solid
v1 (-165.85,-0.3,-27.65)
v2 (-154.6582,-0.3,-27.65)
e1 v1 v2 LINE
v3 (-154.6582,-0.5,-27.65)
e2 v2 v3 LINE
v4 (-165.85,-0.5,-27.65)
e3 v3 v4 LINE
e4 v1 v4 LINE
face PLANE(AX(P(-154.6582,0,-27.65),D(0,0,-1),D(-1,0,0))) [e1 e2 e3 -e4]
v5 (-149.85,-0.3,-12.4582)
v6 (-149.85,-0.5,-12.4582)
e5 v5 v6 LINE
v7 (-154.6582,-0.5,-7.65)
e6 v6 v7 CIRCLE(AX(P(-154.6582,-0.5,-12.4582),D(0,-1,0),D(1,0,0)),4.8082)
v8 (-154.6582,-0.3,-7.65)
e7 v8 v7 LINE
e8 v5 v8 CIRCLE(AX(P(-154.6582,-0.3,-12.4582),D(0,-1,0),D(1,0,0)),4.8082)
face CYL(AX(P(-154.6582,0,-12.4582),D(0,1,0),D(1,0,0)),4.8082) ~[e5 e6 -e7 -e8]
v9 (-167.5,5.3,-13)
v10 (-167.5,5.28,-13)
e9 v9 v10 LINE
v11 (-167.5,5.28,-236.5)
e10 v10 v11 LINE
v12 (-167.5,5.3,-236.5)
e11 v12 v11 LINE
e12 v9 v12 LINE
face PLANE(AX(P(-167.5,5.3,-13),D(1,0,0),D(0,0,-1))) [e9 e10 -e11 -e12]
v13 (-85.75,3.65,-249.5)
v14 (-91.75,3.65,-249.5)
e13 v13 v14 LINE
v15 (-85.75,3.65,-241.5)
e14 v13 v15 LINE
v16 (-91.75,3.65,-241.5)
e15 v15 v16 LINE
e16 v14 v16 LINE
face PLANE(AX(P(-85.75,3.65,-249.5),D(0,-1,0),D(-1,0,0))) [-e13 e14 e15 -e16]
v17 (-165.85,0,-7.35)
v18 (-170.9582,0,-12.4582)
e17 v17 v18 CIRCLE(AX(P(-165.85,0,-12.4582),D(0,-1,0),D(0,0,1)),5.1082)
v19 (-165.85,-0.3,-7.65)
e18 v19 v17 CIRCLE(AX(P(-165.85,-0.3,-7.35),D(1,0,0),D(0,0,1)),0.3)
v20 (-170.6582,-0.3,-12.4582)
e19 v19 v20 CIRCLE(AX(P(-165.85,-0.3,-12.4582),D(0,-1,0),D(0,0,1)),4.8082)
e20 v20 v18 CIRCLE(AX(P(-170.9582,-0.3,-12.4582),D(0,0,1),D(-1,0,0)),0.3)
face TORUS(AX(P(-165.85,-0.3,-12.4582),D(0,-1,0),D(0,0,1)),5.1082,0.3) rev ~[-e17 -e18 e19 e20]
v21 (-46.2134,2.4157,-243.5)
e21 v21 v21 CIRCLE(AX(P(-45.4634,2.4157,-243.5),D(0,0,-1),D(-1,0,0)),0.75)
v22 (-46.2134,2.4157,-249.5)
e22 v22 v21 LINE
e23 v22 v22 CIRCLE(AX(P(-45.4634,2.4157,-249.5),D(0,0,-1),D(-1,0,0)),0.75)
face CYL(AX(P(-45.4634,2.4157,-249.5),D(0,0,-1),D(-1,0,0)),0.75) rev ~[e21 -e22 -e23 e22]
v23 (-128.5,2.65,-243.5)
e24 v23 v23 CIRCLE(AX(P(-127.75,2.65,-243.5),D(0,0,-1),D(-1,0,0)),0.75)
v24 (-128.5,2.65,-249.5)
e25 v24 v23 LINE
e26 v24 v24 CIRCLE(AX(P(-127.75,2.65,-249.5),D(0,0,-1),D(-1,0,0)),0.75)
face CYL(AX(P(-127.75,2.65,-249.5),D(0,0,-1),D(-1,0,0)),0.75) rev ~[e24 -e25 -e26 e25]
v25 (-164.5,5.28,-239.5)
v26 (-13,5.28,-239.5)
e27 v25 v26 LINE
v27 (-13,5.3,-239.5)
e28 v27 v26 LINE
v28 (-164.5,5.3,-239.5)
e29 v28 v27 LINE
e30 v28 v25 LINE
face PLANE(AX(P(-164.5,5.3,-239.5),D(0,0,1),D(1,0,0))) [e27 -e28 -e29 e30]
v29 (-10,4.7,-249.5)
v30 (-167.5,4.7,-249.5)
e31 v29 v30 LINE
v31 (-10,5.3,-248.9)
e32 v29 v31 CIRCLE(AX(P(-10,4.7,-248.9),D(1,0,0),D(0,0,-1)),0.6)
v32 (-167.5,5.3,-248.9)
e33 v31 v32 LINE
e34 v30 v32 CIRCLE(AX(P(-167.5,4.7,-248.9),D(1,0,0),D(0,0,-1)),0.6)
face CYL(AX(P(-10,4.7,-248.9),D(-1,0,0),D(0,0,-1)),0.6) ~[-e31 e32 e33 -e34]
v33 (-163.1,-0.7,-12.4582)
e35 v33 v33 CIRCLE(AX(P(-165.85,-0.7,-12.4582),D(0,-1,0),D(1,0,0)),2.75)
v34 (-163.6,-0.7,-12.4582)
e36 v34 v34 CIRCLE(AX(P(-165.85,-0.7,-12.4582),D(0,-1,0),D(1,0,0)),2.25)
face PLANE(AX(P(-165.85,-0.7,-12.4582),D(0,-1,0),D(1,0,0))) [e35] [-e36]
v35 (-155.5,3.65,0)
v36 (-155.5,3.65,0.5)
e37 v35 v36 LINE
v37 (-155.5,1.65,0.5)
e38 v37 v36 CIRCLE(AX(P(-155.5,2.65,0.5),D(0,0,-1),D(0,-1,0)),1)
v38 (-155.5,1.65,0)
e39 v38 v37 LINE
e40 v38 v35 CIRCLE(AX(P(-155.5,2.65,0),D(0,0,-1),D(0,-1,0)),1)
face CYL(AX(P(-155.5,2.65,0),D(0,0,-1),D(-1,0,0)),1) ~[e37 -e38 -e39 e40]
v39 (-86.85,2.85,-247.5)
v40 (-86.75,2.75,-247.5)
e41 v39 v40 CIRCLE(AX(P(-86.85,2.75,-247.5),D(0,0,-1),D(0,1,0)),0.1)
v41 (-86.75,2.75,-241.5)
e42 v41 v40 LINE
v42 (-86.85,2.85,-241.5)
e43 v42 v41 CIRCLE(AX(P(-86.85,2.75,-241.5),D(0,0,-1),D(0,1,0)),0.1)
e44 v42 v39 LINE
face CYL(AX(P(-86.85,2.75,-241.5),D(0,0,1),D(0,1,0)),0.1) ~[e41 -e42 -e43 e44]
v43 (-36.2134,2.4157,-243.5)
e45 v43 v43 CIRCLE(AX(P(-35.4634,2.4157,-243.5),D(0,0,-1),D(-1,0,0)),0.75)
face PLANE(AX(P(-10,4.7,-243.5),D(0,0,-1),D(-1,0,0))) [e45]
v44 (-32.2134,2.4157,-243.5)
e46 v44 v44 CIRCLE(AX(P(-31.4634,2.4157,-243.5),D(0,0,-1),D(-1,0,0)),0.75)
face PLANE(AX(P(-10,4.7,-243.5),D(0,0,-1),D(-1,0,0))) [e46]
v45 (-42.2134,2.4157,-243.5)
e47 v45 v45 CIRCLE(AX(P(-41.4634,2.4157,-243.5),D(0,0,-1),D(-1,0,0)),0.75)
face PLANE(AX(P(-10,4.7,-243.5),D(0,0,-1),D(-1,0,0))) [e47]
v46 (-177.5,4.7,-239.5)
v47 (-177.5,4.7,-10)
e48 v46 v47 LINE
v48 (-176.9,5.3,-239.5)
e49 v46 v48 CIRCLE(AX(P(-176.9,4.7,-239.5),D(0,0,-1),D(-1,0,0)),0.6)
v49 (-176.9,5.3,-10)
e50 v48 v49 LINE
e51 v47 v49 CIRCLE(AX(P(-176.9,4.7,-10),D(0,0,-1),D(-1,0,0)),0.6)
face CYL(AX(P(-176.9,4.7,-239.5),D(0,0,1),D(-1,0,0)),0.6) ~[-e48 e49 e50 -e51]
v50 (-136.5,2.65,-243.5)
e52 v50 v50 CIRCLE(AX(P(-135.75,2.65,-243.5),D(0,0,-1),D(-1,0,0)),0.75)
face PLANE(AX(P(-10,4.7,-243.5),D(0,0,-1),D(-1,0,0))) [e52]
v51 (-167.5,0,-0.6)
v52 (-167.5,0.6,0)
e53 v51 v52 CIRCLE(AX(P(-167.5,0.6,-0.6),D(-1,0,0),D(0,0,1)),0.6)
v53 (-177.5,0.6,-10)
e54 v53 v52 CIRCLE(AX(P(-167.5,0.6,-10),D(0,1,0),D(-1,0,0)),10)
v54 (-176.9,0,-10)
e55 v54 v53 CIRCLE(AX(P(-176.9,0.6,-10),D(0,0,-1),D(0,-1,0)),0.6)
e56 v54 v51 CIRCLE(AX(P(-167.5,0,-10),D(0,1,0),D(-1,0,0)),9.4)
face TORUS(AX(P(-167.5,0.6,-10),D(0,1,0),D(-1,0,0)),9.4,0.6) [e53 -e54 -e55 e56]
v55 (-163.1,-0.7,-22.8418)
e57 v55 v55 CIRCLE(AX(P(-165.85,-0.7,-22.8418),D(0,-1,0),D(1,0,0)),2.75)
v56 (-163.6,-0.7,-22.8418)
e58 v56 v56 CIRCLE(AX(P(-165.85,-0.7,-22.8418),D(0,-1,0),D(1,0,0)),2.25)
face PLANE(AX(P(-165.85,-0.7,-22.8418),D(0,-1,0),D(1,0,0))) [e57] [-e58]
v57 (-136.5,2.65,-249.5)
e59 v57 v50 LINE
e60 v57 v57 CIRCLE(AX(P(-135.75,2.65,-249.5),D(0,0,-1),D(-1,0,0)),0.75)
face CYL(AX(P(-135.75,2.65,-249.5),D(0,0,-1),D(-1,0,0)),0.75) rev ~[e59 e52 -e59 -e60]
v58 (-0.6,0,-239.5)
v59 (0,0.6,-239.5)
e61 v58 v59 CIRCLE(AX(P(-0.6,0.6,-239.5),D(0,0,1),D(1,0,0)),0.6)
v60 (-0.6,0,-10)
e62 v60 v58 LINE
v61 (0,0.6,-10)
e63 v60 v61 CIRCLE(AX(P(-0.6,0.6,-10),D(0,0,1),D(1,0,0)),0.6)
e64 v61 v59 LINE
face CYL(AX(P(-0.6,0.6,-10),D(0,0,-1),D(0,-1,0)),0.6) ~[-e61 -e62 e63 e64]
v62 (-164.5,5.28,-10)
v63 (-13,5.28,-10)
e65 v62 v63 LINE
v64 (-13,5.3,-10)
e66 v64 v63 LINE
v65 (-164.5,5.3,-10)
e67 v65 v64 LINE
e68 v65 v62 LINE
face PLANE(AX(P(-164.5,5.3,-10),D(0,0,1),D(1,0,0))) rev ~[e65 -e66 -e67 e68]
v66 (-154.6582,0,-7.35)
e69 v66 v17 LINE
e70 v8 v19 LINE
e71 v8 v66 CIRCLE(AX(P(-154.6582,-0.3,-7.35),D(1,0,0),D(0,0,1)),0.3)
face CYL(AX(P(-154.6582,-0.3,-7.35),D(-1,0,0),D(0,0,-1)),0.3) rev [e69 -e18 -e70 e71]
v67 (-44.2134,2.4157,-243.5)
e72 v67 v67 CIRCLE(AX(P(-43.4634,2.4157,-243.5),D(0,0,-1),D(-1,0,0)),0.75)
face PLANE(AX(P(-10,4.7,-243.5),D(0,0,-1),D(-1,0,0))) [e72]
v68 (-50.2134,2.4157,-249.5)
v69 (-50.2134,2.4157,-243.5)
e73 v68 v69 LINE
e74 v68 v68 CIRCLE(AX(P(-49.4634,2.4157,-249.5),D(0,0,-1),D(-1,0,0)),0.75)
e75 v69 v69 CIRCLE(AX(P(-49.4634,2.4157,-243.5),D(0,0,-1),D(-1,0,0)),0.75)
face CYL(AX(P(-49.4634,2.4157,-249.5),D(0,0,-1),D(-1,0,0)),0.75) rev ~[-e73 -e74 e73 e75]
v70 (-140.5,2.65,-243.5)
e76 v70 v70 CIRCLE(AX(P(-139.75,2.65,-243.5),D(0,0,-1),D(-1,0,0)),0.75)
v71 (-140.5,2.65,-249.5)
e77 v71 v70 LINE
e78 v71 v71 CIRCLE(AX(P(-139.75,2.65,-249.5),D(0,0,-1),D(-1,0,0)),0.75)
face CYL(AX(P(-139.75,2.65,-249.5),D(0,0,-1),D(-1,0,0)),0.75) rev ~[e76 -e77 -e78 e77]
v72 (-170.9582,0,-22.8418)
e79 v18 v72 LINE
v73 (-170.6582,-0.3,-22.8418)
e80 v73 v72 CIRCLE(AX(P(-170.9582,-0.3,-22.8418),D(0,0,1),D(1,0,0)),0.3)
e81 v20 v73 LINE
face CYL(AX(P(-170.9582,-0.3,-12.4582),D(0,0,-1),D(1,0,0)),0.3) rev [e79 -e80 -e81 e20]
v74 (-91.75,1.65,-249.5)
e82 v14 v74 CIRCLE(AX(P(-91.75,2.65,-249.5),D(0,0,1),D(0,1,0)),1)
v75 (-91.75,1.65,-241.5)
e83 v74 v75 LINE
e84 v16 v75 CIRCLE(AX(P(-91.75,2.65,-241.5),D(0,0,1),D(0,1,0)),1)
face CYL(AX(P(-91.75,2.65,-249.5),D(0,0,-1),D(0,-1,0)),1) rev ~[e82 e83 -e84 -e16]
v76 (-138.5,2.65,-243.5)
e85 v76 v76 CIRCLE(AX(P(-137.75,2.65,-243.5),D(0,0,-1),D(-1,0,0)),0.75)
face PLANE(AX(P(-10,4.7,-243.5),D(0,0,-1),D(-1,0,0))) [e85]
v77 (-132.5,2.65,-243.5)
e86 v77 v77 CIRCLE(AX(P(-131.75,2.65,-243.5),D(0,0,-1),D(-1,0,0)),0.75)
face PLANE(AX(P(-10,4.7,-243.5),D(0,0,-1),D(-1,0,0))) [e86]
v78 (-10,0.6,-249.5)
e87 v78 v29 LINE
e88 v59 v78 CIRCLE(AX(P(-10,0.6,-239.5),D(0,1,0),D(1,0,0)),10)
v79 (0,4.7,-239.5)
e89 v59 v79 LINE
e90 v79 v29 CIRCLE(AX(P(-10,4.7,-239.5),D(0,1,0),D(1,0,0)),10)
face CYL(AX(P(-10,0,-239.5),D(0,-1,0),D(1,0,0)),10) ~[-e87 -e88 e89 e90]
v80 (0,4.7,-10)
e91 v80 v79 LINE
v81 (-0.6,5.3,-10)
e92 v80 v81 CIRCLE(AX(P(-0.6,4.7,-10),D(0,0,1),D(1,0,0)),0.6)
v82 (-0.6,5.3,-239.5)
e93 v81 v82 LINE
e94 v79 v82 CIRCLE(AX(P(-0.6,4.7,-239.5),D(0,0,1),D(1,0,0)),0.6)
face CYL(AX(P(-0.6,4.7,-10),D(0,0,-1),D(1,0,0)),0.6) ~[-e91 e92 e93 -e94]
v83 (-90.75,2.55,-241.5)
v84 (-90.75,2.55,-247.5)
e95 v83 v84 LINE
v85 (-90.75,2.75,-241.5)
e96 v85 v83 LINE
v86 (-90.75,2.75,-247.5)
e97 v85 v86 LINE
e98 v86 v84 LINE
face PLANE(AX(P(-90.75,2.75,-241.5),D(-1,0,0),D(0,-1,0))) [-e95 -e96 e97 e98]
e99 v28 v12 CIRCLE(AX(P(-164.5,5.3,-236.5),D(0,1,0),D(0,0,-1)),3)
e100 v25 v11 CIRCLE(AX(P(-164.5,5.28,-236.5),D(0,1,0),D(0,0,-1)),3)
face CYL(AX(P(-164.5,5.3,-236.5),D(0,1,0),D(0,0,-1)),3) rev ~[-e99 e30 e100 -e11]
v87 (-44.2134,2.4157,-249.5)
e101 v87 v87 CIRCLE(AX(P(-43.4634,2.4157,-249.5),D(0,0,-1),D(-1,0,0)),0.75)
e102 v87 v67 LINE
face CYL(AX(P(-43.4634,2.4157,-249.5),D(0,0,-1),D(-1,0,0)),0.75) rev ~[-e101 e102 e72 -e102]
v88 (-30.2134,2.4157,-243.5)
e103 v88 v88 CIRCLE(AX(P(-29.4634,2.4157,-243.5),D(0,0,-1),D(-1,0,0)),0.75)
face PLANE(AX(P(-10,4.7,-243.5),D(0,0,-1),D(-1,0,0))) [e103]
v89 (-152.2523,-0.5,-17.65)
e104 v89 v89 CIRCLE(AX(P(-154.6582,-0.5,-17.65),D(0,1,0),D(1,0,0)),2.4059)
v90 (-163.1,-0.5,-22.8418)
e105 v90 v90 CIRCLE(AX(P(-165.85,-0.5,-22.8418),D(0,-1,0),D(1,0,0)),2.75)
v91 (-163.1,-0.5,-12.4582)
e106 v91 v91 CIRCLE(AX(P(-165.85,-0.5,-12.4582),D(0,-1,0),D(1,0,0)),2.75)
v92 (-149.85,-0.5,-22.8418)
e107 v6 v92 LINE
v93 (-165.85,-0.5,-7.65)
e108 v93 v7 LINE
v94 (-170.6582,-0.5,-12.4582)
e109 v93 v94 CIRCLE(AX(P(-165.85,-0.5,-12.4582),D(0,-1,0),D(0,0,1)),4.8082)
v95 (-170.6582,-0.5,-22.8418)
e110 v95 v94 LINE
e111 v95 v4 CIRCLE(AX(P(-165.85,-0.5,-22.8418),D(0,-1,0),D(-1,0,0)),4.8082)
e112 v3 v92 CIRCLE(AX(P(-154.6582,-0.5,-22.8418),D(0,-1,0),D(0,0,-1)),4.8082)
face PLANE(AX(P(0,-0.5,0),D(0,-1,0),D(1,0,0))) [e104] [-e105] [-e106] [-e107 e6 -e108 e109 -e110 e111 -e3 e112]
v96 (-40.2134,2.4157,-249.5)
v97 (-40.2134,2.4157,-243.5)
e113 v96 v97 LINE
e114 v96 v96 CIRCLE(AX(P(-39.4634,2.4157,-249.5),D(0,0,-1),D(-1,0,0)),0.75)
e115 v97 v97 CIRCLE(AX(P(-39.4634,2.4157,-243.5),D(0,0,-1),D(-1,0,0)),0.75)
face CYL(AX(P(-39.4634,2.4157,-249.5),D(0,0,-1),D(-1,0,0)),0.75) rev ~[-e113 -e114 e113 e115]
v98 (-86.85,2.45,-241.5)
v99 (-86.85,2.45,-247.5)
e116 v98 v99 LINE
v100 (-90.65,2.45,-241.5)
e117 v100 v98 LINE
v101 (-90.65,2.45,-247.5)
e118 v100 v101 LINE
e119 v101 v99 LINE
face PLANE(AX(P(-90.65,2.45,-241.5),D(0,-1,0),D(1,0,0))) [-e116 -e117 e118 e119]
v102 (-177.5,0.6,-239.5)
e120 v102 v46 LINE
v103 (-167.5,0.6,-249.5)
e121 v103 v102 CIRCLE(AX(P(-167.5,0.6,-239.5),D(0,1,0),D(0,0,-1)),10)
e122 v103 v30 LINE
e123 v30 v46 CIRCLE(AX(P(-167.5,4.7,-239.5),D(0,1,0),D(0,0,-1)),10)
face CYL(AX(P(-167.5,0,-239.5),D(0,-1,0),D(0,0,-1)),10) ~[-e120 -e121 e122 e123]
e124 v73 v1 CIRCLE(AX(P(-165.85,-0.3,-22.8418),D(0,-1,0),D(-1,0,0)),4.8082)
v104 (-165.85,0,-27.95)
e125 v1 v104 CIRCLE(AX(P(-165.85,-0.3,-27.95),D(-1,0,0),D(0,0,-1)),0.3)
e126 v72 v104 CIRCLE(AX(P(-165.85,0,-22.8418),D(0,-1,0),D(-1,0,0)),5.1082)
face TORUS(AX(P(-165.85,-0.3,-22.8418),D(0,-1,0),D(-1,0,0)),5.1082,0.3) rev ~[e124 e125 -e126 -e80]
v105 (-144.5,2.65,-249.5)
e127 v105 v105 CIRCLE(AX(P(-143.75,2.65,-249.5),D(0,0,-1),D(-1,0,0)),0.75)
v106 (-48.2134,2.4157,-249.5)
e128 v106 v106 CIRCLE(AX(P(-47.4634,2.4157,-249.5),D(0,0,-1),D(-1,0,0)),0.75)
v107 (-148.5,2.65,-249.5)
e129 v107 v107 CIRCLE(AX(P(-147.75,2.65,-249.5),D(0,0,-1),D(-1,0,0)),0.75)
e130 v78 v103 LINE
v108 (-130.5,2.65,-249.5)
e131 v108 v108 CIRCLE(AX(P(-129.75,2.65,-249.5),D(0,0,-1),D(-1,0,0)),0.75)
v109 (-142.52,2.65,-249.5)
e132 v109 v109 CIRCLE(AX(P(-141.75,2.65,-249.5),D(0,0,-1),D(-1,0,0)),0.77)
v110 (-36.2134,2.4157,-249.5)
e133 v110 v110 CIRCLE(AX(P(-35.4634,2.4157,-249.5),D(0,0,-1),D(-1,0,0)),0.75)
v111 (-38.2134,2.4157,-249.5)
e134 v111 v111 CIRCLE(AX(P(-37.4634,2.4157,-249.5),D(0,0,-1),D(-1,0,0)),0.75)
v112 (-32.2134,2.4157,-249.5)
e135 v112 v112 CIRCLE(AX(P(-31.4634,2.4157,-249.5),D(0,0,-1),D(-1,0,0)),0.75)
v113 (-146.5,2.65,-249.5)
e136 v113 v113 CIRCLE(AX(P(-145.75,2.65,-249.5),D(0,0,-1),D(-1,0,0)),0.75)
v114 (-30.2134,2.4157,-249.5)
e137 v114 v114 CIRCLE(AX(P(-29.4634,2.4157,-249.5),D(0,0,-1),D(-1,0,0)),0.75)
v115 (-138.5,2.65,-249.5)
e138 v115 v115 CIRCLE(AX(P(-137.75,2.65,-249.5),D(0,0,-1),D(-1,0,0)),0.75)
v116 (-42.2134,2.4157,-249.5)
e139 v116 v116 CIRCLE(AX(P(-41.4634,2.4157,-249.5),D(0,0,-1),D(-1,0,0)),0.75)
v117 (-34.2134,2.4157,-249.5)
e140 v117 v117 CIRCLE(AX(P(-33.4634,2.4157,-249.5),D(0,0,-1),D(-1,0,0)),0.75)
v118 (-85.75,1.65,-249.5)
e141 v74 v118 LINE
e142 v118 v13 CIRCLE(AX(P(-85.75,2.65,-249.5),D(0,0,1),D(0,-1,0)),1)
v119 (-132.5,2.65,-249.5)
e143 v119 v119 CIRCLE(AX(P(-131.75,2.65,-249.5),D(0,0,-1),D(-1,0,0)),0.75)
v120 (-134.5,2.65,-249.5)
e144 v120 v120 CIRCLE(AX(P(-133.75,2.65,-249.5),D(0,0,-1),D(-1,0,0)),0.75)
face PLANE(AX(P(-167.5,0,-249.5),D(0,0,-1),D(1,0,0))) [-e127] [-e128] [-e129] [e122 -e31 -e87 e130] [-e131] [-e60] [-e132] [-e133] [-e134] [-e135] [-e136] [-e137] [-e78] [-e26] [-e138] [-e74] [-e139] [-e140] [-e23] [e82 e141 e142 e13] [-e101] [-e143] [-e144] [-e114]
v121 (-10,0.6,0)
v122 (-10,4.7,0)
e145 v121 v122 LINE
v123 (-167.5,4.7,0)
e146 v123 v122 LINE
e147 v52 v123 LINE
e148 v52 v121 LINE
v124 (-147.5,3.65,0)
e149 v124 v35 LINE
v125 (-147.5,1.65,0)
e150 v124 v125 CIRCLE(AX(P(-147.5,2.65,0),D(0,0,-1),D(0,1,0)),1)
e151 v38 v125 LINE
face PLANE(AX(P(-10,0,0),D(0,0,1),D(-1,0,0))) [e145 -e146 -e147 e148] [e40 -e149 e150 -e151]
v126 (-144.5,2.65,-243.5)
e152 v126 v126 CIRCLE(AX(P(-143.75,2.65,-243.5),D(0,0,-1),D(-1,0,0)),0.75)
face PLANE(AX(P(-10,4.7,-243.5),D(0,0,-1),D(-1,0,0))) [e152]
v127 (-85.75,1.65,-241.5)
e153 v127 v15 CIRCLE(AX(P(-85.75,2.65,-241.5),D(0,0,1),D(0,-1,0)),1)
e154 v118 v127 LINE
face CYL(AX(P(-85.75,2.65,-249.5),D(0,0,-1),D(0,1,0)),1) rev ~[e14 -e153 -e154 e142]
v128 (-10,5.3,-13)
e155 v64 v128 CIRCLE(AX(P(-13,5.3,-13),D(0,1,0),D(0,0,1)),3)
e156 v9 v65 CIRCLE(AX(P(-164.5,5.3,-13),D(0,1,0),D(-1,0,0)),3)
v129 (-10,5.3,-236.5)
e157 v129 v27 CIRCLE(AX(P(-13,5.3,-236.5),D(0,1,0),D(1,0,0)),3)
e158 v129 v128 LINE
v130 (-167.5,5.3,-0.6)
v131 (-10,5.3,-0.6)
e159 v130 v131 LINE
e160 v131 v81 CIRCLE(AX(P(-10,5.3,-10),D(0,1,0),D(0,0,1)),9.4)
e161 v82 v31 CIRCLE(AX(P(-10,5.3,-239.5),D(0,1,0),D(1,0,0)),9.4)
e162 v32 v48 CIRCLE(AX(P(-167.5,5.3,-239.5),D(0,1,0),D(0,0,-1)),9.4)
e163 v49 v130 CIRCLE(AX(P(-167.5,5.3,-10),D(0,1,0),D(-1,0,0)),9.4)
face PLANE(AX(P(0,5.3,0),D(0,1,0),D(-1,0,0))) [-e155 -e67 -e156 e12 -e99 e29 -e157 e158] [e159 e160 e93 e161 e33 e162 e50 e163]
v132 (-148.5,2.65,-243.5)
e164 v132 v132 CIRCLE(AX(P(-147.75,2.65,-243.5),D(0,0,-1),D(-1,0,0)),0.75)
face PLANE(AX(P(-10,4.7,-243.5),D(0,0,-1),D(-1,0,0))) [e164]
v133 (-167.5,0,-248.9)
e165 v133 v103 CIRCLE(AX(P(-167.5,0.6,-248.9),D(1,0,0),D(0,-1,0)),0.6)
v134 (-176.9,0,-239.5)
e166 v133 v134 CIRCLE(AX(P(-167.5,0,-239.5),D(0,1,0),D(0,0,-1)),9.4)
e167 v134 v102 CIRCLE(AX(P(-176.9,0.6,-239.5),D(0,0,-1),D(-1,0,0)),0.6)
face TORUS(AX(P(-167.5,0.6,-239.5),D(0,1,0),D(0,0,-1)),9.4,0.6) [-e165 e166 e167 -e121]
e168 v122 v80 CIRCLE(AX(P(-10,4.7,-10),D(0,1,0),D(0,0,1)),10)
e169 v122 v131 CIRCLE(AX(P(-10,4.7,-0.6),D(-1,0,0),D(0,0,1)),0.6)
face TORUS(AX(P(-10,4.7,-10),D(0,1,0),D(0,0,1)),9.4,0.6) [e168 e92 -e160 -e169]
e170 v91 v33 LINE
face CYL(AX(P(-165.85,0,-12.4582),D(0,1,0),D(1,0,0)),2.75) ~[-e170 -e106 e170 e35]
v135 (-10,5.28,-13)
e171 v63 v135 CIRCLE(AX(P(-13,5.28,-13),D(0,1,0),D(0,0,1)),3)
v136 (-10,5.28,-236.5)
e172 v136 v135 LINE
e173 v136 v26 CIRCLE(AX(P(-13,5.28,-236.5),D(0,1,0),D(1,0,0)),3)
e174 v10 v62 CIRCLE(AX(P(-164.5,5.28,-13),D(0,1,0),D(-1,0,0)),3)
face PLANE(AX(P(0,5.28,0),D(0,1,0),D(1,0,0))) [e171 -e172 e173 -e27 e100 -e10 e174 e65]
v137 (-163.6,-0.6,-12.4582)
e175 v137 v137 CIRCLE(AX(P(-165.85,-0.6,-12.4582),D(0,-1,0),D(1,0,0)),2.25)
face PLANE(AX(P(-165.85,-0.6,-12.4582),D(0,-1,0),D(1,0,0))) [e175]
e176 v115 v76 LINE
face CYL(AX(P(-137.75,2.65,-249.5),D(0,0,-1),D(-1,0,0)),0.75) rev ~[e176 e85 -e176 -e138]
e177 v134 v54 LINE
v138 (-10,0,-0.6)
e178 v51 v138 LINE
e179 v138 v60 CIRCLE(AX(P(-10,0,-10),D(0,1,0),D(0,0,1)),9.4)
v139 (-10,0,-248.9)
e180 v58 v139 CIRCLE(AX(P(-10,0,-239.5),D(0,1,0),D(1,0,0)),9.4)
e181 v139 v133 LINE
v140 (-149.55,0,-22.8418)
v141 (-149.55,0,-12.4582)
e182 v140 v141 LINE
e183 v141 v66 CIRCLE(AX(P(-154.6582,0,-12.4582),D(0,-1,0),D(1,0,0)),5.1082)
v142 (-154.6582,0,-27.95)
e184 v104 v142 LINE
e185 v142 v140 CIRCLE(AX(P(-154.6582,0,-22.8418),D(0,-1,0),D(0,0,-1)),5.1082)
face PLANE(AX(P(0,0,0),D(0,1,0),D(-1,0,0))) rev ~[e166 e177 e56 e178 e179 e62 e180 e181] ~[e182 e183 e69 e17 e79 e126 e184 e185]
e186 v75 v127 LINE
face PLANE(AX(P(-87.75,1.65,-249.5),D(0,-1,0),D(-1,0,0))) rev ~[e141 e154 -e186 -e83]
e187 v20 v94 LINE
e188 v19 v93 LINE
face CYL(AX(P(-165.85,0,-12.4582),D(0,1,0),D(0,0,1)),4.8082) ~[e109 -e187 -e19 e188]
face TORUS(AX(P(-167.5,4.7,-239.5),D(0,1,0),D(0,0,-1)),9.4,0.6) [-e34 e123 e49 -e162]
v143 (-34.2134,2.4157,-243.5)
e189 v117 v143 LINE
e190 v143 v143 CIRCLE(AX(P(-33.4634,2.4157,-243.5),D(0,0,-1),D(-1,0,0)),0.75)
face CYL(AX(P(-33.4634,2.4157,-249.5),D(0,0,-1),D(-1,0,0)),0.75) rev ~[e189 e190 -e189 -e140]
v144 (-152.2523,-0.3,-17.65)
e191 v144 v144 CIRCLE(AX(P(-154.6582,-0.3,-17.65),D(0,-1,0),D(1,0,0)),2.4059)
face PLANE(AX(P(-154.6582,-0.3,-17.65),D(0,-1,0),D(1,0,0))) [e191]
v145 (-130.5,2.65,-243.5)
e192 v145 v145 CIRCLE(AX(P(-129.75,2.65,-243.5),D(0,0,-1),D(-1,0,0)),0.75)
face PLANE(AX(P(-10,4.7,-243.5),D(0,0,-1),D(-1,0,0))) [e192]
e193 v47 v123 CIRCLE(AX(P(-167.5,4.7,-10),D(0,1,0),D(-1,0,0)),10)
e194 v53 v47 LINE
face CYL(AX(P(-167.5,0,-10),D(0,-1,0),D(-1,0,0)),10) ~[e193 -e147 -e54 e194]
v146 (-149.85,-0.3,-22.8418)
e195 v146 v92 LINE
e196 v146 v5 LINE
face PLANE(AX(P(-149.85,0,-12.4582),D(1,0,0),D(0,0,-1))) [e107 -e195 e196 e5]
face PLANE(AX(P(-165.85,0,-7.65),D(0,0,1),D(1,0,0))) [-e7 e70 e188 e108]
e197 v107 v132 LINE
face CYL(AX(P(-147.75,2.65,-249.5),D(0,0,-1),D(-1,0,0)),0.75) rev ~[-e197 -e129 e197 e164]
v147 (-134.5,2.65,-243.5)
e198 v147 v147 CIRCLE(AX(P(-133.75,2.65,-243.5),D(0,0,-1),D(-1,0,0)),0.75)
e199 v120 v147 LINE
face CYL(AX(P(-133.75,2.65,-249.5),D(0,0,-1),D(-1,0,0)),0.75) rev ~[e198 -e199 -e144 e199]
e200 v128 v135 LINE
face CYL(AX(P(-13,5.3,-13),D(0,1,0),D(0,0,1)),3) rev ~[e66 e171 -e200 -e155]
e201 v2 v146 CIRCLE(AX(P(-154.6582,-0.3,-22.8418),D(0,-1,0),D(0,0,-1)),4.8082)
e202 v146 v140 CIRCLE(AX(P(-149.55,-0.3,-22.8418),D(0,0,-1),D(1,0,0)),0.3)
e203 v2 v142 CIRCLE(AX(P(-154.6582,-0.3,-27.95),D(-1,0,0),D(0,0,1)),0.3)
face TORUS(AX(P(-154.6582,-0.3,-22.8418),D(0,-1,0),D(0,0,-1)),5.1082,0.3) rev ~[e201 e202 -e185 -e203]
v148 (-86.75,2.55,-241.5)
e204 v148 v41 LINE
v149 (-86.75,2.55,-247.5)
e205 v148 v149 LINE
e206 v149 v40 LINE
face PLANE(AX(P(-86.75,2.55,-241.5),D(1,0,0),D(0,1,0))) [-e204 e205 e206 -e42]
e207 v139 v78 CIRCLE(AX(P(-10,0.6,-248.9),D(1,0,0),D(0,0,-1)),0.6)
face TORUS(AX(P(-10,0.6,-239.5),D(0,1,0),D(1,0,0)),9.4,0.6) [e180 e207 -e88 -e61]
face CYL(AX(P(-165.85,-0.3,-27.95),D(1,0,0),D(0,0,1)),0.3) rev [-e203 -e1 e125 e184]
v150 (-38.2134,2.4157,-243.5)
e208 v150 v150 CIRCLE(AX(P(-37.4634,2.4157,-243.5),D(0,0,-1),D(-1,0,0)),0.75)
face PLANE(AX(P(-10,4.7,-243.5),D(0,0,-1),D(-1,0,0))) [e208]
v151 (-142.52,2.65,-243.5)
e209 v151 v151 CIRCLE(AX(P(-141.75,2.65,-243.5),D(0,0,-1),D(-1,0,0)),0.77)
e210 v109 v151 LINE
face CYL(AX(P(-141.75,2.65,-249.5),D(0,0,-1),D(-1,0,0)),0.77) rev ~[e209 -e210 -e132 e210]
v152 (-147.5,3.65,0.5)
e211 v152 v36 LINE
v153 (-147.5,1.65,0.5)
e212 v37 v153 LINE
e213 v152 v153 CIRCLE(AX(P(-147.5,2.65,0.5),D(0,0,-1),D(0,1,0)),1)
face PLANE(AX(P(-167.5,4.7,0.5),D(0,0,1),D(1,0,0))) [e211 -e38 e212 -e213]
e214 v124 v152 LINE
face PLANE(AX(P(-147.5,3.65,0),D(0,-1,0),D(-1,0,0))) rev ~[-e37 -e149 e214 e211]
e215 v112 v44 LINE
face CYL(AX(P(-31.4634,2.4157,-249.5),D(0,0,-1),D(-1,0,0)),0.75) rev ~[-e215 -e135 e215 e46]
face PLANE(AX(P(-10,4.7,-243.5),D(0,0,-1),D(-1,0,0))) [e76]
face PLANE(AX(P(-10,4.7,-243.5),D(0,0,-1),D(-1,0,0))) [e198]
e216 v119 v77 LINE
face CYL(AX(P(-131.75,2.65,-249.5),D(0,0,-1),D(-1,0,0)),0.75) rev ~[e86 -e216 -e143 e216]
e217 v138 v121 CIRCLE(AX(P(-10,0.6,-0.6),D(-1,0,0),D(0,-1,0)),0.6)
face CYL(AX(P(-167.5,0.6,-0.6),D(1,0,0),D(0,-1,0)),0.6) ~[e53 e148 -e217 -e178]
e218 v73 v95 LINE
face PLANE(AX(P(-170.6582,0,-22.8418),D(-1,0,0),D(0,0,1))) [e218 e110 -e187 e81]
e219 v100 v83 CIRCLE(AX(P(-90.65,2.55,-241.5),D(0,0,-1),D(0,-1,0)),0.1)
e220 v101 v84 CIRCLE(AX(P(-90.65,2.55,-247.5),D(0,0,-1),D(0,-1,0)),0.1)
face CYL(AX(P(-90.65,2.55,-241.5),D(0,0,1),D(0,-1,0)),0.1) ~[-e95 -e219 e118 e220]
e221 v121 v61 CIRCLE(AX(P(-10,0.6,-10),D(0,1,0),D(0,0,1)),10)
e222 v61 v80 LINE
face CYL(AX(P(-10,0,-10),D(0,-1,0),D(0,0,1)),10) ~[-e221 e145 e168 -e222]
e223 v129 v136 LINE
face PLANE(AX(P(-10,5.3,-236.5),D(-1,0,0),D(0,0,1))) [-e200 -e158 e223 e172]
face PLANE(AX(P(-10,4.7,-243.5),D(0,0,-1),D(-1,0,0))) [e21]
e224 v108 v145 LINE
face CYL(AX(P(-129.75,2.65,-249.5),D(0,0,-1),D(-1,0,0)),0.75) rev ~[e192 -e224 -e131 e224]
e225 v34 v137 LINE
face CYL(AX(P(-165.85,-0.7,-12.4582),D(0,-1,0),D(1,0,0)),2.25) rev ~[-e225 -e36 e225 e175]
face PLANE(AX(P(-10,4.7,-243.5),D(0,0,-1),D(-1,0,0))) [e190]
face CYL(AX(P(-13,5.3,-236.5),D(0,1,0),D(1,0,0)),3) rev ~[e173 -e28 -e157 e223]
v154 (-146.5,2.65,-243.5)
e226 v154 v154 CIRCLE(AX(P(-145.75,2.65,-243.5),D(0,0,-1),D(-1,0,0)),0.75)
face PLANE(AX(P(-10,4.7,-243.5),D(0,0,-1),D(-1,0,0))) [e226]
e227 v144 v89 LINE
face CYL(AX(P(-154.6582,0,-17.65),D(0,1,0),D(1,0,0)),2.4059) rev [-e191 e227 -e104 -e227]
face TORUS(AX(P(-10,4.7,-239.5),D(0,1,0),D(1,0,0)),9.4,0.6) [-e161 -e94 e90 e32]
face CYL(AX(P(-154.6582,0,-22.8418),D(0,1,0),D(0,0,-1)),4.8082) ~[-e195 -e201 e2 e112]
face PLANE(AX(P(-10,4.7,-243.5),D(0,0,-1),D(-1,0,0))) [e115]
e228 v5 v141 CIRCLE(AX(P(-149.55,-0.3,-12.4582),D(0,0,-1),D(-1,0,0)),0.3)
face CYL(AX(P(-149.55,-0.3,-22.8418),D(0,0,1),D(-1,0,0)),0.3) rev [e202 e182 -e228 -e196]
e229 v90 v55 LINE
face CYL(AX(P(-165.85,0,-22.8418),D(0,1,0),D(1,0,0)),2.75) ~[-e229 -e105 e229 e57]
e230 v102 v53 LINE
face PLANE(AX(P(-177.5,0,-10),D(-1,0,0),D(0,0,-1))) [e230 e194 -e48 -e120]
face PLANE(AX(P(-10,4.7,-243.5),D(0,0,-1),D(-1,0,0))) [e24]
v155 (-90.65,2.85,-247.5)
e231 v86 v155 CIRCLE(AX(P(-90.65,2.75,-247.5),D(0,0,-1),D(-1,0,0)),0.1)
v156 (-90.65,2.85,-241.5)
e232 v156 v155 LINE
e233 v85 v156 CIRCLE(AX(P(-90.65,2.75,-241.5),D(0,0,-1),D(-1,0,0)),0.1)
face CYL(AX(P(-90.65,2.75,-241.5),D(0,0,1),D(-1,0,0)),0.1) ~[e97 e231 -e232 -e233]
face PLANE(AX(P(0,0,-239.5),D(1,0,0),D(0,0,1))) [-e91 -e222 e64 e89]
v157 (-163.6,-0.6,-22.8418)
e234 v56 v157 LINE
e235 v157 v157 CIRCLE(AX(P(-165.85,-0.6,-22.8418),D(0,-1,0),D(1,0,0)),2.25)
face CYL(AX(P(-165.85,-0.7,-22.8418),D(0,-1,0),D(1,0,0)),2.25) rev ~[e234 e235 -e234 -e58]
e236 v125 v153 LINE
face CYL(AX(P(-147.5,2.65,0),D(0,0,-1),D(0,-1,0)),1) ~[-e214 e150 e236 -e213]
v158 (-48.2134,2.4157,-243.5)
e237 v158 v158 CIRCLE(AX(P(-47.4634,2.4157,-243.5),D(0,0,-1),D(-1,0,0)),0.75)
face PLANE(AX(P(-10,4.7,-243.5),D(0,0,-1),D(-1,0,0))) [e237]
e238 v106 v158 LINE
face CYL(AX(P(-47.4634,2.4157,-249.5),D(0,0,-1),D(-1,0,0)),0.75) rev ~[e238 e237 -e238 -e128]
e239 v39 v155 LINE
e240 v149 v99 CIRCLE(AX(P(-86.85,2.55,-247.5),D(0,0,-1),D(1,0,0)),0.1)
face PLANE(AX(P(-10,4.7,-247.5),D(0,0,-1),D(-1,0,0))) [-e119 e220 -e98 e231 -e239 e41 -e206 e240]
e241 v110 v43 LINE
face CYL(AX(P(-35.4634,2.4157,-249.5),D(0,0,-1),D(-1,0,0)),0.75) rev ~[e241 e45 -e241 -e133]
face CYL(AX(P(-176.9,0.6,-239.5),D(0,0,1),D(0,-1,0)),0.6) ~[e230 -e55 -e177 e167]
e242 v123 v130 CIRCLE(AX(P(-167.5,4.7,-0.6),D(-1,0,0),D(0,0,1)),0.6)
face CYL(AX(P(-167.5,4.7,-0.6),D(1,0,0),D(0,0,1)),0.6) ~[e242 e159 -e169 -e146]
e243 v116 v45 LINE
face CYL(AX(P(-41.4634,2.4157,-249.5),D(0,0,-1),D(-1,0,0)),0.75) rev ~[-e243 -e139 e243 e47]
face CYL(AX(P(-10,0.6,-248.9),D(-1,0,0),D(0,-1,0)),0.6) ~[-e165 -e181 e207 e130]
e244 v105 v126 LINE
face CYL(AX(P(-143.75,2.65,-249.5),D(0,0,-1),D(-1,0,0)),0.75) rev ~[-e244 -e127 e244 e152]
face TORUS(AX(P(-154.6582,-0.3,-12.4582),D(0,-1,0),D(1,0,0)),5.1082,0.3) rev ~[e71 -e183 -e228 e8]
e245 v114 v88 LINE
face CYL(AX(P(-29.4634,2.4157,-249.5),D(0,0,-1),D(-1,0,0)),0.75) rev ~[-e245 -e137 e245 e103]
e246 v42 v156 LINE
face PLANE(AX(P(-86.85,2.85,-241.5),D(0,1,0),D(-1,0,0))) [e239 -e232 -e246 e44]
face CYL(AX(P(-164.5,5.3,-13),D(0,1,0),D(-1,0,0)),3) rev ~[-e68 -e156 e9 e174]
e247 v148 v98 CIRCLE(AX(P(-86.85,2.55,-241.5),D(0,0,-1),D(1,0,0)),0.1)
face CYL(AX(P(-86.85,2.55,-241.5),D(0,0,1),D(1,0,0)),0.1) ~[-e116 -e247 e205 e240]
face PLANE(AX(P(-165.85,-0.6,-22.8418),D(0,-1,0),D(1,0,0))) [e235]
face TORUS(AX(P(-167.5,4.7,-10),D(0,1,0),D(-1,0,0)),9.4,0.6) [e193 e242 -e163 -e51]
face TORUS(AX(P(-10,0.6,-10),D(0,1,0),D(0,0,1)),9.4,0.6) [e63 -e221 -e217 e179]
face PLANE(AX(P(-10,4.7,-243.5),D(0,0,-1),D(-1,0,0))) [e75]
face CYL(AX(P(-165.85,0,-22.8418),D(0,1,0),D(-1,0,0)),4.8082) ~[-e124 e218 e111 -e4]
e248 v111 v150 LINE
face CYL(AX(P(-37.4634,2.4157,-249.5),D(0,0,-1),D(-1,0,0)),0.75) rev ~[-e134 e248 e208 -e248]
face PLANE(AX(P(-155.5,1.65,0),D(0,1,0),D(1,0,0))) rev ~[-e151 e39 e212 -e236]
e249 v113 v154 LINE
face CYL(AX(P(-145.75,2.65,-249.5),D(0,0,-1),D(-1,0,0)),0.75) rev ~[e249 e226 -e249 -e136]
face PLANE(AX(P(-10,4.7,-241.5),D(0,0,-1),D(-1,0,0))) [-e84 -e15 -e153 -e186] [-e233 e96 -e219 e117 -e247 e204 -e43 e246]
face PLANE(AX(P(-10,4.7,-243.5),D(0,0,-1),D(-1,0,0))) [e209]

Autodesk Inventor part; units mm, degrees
ref_plane "YZ Plane" through (0, 0, 0) normal (1, 0, 0) x (0, 1, 0)
ref_plane "XZ Plane" through (0, 0, 0) normal (0, 1, 0) x (-1, 0, 0)
ref_plane "XY Plane" through (0, 0, 0) normal (0, 0, 1) x (1, 0, 0)
sketch "스케치1" plane through (0, 0, 0) normal (0, 1, 0) x (-1, 0, 0)
  point P0 (0, 0)
sketch "스케치2" plane through (0, 0, 0) normal (0, 1, 0) x (-1, 0, 0)
  line L0 (10, 0) -> (167.5, 0)
  line L1 (177.5, -10) -> (177.5, -239.5)
  line L2 (167.5, -249.5) -> (10, -249.5)
  line L3 (0, -239.5) -> (0, -10)
  arc A0 (177.5, -10) -> (167.5, 0) centre (167.5, -10) ccw
  arc A1 (10, 0) -> (0, -10) centre (10, -10) ccw
  arc A2 (0, -239.5) -> (10, -249.5) centre (10, -239.5) ccw
  arc A3 (167.5, -249.5) -> (177.5, -239.5) centre (167.5, -239.5) ccw
  point P0 (0, 0)
  point P1 (177.5, -249.5)
  point P2 (177.5, 0)
  point P3 (0, -249.5)
  dimension "d19" = 177.5
  dimension "d20" = 249.5
  dimension "d21" = 10
extrude "돌출1" add sketch "스케치2" along normal blind 5.3
fillet "모깎기1" radius 0.6 8 edges at (-2.9289, 5.3, -246.5711) (-88.75, 5.3, -249.5) (-174.5711, 5.3, -246.5711) (-177.5, 5.3, -124.75) (-174.5711, 5.3, -2.9289) (-88.75, 5.3, 0) (-2.9289, 5.3, -2.9289) (0, 5.3, -124.75)
fillet "모깎기2" radius 0.6 8 edges at (-2.9289, 0, -246.5711) (-88.75, 0, -249.5) (-174.5711, 0, -246.5711) (-177.5, 0, -124.75) (-174.5711, 0, -2.9289) (-88.75, 0, 0) (-2.9289, 0, -2.9289) (0, 0, -124.75)
sketch "스케치3" plane through (-167.5, 4.7, 0) normal (0, 0, 1) x (1, 0, 0)
  line L0 (0, -4.1) -> (0, 0) projected
  line L1 (11, -2.05) -> (11, -1.05)
  line L2 (11, -2.05) -> (11, -2.05)
  line L3 (12, -3.05) -> (20, -3.05)
  line L4 (21, -2.05) -> (21, -2.05)
  line L5 (20, -1.05) -> (12, -1.05)
  arc A0 (12, -1.05) -> (11, -2.05) centre (12, -2.05) ccw
  arc A1 (11, -2.05) -> (12, -3.05) centre (12, -2.05) ccw
  arc A2 (20, -3.05) -> (21, -2.05) centre (20, -2.05) ccw
  arc A3 (21, -2.05) -> (20, -1.05) centre (20, -2.05) ccw
  point P0 (167.5, -4.7)
  point P1 (11, -3.05)
  point P2 (21, -3.05)
  point P3 (11, -2.05)
  point P4 (21, -2.05)
  dimension "d29" = 10
  dimension "d30" = 1
extrude "돌출2" add sketch "스케치3" along normal blind 0.5
sketch "스케치4" plane through (0, 5.3, 0) normal (0, 1, 0) x (1, 0, 0)
  line L0 (-176.9, 239.5) -> (-176.9, 10) projected
  line L1 (-0.6, 239.5) -> (-0.6, 10) projected
  line L2 (-164.5, 10) -> (-13, 10)
  arc A0 (-176.9, 10) -> (-167.5, 0.6) centre (-167.5, 10) ccw projected
  arc A1 (-167.5, 248.9) -> (-176.9, 239.5) centre (-167.5, 239.5) ccw projected
  line L3 (-167.5, 13) -> (-167.5, 236.5)
  line L4 (-164.5, 239.5) -> (-13, 239.5)
  line L5 (-167.5, 248.9) -> (-10, 248.9) projected
  line L6 (-10, 236.5) -> (-10, 13)
  arc A2 (-164.5, 239.5) -> (-167.5, 236.5) centre (-164.5, 236.5) ccw
  arc A3 (-10, 236.5) -> (-13, 239.5) centre (-13, 236.5) ccw
  arc A4 (-167.5, 13) -> (-164.5, 10) centre (-164.5, 13) ccw
  arc A5 (-13, 10) -> (-10, 13) centre (-13, 13) ccw
  point P0 (0, 0)
  dimension "d33" = 3
extrude "돌출3" cut sketch "스케치4" against normal blind 0.02
sketch "스케치5" plane through (0, 0, 0) normal (0, -1, 0) x (1, 0, 0)
  arc A0 (-167.5, -0.6) -> (-176.9, -10) centre (-167.5, -10) ccw projected
  line L0 (-165.85, -7.65) -> (-154.6582, -7.65)
  line L1 (-149.85, -12.4582) -> (-149.85, -22.8418)
  line L2 (-154.6582, -27.65) -> (-165.85, -27.65)
  line L3 (-170.6582, -22.8418) -> (-170.6582, -12.4582)
  arc A1 (-154.6582, -27.65) -> (-149.85, -22.8418) centre (-154.6582, -22.8418) ccw
  arc A2 (-149.85, -12.4582) -> (-154.6582, -7.65) centre (-154.6582, -12.4582) ccw
  arc A3 (-165.85, -7.65) -> (-170.6582, -12.4582) centre (-165.85, -12.4582) ccw
  arc A4 (-170.6582, -22.8418) -> (-165.85, -27.65) centre (-165.85, -22.8418) ccw
  circle A5 centre (-165.85, -12.4582) radius 2.75
  circle A6 centre (-165.85, -22.8418) radius 2.75
  line L4 (-154.6582, -22.8418) -> (-154.6582, -12.4582)
  circle A7 centre (-154.6582, -17.65) radius 2.4059
  point P0 (0, 0)
  dimension "d42" = 5.5
  dimension "d43" = 5.5
extrude "돌출4" add sketch "스케치5" along normal blind 0.5
sketch "스케치6" plane through (-154.6582, 0, -17.65) normal (0, -1, 0) x (1, 0, 0)
  circle A0 centre (0, 0) radius 2.4059
  point P0 (154.6582, 17.65)
extrude "돌출5" add sketch "스케치6" along normal blind 0.3
sketch "스케치7" plane through (-165.85, 0, -22.8418) normal (0, -1, 0) x (1, 0, 0)
  circle A0 centre (0, 0) radius 2.75
  point P0 (165.85, 22.8418)
extrude "돌출6" add sketch "스케치7" along normal blind 0.7
sketch "스케치8" plane through (-165.85, 0, -12.4582) normal (0, -1, 0) x (1, 0, 0)
  circle A0 centre (0, 0) radius 2.75
  point P0 (165.85, 12.4582)
extrude "돌출7" add sketch "스케치8" along normal blind 0.7
sketch "스케치9" plane through (-165.85, -0.7, -22.8418) normal (0, -1, 0) x (1, 0, 0)
  circle A0 centre (0, 0) radius 2.25
  point P0 (165.85, 22.8418)
  dimension "d52" = 4.5
extrude "돌출8" cut sketch "스케치9" against normal blind 0.1
sketch "스케치10" plane through (-165.85, -0.7, -12.4582) normal (0, -1, 0) x (1, 0, 0)
  circle A0 centre (0, 0) radius 2.25
  point P0 (165.85, 12.4582)
  dimension "d55" = 4.5
extrude "돌출9" cut sketch "스케치10" against normal blind 0.1
sketch "스케치11" plane through (-10, 4.7, -249.5) normal (0, 0, -1) x (-1, 0, 0)
  line L0 (0, -4.1) -> (0, 0) projected
  line L1 (157.5, -4.1) -> (157.5, 0) projected
  line L2 (77.75, -3.05) -> (81.75, -3.05)
  line L3 (81.75, -3.05) -> (75.75, -3.05)
  line L4 (74.75, -2.05) -> (74.75, -2.05)
  line L5 (75.75, -1.05) -> (81.75, -1.05)
  line L6 (82.75, -2.05) -> (82.75, -2.05)
  line L7 (0, -2.05) -> (74.75, -2.05)
  line L8 (82.75, -2.05) -> (157.5, -2.05)
  arc A0 (75.75, -1.05) -> (74.75, -2.05) centre (75.75, -2.05) ccw
  arc A1 (74.75, -2.05) -> (75.75, -3.05) centre (75.75, -2.05) ccw
  arc A2 (81.75, -3.05) -> (82.75, -2.05) centre (81.75, -2.05) ccw
  arc A3 (82.75, -2.05) -> (81.75, -1.05) centre (81.75, -2.05) ccw
  point P0 (-10, -4.7)
  point P1 (74.75, -2.05)
extrude "돌출10" cut sketch "스케치11" against normal blind 8
sketch "스케치12" plane through (-10, 4.7, -241.5) normal (0, 0, -1) x (-1, 0, 0)
  arc A0 (75.75, -1.05) -> (75.75, -3.05) centre (75.75, -2.05) ccw projected
  line L0 (75.75, -1.05) -> (81.75, -1.05) projected
  line L1 (76.75, -2.05) -> (76.75, -1.95)
  line L2 (0, -4.1) -> (157.5, -4.1) projected
  line L3 (76.85, -1.85) -> (80.65, -1.85)
  line L4 (80.75, -1.95) -> (80.75, -2.15)
  line L5 (80.65, -2.25) -> (76.85, -2.25)
  line L6 (76.75, -2.15) -> (76.75, -2.05)
  arc A1 (80.75, -1.95) -> (80.65, -1.85) centre (80.65, -1.95) ccw
  arc A2 (80.65, -2.25) -> (80.75, -2.15) centre (80.65, -2.15) ccw
  arc A3 (76.75, -2.15) -> (76.85, -2.25) centre (76.85, -2.15) ccw
  arc A4 (76.85, -1.85) -> (76.75, -1.95) centre (76.85, -1.95) ccw
  point P0 (-10, -4.7)
extrude "돌출11" add sketch "스케치12" along normal blind 6
sketch "스케치13" plane through (-10, 4.7, -249.5) normal (0, 0, -1) x (-1, 0, 0)
  line L0 (74.4634, -2.2843) -> (39.4634, -2.2843)
  circle A0 centre (39.4634, -2.2843) radius 0.75
  circle A1 centre (37.4634, -2.2843) radius 0.75
  circle A2 centre (35.4634, -2.2843) radius 0.75
  circle A3 centre (33.4634, -2.2843) radius 0.75
  circle A4 centre (31.4634, -2.2843) radius 0.75
  circle A5 centre (29.4634, -2.2843) radius 0.75
  circle A6 centre (27.4634, -2.2843) radius 0.75
  circle A7 centre (25.4634, -2.2843) radius 0.75
  circle A8 centre (23.4634, -2.2843) radius 0.75
  circle A9 centre (21.4634, -2.2843) radius 0.75
  circle A10 centre (19.4634, -2.2843) radius 0.75
  point P0 (-10, -4.7)
  dimension "d73" = 35
  dimension "d84" = 1.5
extrude "돌출12" cut sketch "스케치13" against normal blind 6
sketch "스케치14" plane through (-10, 4.7, -249.5) normal (0, 0, -1) x (-1, 0, 0)
  arc A0 (81.75, -3.05) -> (81.75, -1.05) centre (81.75, -2.05) ccw projected
  circle A1 centre (117.75, -2.05) radius 0.75
  circle A2 centre (119.75, -2.05) radius 0.75
  circle A3 centre (121.75, -2.05) radius 0.75
  circle A4 centre (123.75, -2.05) radius 0.75
  circle A5 centre (125.75, -2.05) radius 0.75
  circle A6 centre (127.75, -2.05) radius 0.75
  circle A7 centre (129.75, -2.05) radius 0.75
  circle A8 centre (137.75, -2.05) radius 0.75
  circle A9 centre (135.75, -2.05) radius 0.75
  circle A10 centre (133.75, -2.05) radius 0.75
  circle A11 centre (131.75, -2.05) radius 0.77
  point P0 (-10, -4.7)
extrude "돌출13" cut sketch "스케치14" against normal blind 6
fillet "모깎기3" radius 0.3 8 edges at (-169.2499, 0, -9.0583) (-160.2541, 0, -7.65) (-151.2583, 0, -9.0583) (-149.85, 0, -17.65) (-151.2583, 0, -26.2417) (-160.2541, 0, -27.65) (-169.2499, 0, -26.2417) (-170.6582, 0, -17.65)
properties part number "ipad"
